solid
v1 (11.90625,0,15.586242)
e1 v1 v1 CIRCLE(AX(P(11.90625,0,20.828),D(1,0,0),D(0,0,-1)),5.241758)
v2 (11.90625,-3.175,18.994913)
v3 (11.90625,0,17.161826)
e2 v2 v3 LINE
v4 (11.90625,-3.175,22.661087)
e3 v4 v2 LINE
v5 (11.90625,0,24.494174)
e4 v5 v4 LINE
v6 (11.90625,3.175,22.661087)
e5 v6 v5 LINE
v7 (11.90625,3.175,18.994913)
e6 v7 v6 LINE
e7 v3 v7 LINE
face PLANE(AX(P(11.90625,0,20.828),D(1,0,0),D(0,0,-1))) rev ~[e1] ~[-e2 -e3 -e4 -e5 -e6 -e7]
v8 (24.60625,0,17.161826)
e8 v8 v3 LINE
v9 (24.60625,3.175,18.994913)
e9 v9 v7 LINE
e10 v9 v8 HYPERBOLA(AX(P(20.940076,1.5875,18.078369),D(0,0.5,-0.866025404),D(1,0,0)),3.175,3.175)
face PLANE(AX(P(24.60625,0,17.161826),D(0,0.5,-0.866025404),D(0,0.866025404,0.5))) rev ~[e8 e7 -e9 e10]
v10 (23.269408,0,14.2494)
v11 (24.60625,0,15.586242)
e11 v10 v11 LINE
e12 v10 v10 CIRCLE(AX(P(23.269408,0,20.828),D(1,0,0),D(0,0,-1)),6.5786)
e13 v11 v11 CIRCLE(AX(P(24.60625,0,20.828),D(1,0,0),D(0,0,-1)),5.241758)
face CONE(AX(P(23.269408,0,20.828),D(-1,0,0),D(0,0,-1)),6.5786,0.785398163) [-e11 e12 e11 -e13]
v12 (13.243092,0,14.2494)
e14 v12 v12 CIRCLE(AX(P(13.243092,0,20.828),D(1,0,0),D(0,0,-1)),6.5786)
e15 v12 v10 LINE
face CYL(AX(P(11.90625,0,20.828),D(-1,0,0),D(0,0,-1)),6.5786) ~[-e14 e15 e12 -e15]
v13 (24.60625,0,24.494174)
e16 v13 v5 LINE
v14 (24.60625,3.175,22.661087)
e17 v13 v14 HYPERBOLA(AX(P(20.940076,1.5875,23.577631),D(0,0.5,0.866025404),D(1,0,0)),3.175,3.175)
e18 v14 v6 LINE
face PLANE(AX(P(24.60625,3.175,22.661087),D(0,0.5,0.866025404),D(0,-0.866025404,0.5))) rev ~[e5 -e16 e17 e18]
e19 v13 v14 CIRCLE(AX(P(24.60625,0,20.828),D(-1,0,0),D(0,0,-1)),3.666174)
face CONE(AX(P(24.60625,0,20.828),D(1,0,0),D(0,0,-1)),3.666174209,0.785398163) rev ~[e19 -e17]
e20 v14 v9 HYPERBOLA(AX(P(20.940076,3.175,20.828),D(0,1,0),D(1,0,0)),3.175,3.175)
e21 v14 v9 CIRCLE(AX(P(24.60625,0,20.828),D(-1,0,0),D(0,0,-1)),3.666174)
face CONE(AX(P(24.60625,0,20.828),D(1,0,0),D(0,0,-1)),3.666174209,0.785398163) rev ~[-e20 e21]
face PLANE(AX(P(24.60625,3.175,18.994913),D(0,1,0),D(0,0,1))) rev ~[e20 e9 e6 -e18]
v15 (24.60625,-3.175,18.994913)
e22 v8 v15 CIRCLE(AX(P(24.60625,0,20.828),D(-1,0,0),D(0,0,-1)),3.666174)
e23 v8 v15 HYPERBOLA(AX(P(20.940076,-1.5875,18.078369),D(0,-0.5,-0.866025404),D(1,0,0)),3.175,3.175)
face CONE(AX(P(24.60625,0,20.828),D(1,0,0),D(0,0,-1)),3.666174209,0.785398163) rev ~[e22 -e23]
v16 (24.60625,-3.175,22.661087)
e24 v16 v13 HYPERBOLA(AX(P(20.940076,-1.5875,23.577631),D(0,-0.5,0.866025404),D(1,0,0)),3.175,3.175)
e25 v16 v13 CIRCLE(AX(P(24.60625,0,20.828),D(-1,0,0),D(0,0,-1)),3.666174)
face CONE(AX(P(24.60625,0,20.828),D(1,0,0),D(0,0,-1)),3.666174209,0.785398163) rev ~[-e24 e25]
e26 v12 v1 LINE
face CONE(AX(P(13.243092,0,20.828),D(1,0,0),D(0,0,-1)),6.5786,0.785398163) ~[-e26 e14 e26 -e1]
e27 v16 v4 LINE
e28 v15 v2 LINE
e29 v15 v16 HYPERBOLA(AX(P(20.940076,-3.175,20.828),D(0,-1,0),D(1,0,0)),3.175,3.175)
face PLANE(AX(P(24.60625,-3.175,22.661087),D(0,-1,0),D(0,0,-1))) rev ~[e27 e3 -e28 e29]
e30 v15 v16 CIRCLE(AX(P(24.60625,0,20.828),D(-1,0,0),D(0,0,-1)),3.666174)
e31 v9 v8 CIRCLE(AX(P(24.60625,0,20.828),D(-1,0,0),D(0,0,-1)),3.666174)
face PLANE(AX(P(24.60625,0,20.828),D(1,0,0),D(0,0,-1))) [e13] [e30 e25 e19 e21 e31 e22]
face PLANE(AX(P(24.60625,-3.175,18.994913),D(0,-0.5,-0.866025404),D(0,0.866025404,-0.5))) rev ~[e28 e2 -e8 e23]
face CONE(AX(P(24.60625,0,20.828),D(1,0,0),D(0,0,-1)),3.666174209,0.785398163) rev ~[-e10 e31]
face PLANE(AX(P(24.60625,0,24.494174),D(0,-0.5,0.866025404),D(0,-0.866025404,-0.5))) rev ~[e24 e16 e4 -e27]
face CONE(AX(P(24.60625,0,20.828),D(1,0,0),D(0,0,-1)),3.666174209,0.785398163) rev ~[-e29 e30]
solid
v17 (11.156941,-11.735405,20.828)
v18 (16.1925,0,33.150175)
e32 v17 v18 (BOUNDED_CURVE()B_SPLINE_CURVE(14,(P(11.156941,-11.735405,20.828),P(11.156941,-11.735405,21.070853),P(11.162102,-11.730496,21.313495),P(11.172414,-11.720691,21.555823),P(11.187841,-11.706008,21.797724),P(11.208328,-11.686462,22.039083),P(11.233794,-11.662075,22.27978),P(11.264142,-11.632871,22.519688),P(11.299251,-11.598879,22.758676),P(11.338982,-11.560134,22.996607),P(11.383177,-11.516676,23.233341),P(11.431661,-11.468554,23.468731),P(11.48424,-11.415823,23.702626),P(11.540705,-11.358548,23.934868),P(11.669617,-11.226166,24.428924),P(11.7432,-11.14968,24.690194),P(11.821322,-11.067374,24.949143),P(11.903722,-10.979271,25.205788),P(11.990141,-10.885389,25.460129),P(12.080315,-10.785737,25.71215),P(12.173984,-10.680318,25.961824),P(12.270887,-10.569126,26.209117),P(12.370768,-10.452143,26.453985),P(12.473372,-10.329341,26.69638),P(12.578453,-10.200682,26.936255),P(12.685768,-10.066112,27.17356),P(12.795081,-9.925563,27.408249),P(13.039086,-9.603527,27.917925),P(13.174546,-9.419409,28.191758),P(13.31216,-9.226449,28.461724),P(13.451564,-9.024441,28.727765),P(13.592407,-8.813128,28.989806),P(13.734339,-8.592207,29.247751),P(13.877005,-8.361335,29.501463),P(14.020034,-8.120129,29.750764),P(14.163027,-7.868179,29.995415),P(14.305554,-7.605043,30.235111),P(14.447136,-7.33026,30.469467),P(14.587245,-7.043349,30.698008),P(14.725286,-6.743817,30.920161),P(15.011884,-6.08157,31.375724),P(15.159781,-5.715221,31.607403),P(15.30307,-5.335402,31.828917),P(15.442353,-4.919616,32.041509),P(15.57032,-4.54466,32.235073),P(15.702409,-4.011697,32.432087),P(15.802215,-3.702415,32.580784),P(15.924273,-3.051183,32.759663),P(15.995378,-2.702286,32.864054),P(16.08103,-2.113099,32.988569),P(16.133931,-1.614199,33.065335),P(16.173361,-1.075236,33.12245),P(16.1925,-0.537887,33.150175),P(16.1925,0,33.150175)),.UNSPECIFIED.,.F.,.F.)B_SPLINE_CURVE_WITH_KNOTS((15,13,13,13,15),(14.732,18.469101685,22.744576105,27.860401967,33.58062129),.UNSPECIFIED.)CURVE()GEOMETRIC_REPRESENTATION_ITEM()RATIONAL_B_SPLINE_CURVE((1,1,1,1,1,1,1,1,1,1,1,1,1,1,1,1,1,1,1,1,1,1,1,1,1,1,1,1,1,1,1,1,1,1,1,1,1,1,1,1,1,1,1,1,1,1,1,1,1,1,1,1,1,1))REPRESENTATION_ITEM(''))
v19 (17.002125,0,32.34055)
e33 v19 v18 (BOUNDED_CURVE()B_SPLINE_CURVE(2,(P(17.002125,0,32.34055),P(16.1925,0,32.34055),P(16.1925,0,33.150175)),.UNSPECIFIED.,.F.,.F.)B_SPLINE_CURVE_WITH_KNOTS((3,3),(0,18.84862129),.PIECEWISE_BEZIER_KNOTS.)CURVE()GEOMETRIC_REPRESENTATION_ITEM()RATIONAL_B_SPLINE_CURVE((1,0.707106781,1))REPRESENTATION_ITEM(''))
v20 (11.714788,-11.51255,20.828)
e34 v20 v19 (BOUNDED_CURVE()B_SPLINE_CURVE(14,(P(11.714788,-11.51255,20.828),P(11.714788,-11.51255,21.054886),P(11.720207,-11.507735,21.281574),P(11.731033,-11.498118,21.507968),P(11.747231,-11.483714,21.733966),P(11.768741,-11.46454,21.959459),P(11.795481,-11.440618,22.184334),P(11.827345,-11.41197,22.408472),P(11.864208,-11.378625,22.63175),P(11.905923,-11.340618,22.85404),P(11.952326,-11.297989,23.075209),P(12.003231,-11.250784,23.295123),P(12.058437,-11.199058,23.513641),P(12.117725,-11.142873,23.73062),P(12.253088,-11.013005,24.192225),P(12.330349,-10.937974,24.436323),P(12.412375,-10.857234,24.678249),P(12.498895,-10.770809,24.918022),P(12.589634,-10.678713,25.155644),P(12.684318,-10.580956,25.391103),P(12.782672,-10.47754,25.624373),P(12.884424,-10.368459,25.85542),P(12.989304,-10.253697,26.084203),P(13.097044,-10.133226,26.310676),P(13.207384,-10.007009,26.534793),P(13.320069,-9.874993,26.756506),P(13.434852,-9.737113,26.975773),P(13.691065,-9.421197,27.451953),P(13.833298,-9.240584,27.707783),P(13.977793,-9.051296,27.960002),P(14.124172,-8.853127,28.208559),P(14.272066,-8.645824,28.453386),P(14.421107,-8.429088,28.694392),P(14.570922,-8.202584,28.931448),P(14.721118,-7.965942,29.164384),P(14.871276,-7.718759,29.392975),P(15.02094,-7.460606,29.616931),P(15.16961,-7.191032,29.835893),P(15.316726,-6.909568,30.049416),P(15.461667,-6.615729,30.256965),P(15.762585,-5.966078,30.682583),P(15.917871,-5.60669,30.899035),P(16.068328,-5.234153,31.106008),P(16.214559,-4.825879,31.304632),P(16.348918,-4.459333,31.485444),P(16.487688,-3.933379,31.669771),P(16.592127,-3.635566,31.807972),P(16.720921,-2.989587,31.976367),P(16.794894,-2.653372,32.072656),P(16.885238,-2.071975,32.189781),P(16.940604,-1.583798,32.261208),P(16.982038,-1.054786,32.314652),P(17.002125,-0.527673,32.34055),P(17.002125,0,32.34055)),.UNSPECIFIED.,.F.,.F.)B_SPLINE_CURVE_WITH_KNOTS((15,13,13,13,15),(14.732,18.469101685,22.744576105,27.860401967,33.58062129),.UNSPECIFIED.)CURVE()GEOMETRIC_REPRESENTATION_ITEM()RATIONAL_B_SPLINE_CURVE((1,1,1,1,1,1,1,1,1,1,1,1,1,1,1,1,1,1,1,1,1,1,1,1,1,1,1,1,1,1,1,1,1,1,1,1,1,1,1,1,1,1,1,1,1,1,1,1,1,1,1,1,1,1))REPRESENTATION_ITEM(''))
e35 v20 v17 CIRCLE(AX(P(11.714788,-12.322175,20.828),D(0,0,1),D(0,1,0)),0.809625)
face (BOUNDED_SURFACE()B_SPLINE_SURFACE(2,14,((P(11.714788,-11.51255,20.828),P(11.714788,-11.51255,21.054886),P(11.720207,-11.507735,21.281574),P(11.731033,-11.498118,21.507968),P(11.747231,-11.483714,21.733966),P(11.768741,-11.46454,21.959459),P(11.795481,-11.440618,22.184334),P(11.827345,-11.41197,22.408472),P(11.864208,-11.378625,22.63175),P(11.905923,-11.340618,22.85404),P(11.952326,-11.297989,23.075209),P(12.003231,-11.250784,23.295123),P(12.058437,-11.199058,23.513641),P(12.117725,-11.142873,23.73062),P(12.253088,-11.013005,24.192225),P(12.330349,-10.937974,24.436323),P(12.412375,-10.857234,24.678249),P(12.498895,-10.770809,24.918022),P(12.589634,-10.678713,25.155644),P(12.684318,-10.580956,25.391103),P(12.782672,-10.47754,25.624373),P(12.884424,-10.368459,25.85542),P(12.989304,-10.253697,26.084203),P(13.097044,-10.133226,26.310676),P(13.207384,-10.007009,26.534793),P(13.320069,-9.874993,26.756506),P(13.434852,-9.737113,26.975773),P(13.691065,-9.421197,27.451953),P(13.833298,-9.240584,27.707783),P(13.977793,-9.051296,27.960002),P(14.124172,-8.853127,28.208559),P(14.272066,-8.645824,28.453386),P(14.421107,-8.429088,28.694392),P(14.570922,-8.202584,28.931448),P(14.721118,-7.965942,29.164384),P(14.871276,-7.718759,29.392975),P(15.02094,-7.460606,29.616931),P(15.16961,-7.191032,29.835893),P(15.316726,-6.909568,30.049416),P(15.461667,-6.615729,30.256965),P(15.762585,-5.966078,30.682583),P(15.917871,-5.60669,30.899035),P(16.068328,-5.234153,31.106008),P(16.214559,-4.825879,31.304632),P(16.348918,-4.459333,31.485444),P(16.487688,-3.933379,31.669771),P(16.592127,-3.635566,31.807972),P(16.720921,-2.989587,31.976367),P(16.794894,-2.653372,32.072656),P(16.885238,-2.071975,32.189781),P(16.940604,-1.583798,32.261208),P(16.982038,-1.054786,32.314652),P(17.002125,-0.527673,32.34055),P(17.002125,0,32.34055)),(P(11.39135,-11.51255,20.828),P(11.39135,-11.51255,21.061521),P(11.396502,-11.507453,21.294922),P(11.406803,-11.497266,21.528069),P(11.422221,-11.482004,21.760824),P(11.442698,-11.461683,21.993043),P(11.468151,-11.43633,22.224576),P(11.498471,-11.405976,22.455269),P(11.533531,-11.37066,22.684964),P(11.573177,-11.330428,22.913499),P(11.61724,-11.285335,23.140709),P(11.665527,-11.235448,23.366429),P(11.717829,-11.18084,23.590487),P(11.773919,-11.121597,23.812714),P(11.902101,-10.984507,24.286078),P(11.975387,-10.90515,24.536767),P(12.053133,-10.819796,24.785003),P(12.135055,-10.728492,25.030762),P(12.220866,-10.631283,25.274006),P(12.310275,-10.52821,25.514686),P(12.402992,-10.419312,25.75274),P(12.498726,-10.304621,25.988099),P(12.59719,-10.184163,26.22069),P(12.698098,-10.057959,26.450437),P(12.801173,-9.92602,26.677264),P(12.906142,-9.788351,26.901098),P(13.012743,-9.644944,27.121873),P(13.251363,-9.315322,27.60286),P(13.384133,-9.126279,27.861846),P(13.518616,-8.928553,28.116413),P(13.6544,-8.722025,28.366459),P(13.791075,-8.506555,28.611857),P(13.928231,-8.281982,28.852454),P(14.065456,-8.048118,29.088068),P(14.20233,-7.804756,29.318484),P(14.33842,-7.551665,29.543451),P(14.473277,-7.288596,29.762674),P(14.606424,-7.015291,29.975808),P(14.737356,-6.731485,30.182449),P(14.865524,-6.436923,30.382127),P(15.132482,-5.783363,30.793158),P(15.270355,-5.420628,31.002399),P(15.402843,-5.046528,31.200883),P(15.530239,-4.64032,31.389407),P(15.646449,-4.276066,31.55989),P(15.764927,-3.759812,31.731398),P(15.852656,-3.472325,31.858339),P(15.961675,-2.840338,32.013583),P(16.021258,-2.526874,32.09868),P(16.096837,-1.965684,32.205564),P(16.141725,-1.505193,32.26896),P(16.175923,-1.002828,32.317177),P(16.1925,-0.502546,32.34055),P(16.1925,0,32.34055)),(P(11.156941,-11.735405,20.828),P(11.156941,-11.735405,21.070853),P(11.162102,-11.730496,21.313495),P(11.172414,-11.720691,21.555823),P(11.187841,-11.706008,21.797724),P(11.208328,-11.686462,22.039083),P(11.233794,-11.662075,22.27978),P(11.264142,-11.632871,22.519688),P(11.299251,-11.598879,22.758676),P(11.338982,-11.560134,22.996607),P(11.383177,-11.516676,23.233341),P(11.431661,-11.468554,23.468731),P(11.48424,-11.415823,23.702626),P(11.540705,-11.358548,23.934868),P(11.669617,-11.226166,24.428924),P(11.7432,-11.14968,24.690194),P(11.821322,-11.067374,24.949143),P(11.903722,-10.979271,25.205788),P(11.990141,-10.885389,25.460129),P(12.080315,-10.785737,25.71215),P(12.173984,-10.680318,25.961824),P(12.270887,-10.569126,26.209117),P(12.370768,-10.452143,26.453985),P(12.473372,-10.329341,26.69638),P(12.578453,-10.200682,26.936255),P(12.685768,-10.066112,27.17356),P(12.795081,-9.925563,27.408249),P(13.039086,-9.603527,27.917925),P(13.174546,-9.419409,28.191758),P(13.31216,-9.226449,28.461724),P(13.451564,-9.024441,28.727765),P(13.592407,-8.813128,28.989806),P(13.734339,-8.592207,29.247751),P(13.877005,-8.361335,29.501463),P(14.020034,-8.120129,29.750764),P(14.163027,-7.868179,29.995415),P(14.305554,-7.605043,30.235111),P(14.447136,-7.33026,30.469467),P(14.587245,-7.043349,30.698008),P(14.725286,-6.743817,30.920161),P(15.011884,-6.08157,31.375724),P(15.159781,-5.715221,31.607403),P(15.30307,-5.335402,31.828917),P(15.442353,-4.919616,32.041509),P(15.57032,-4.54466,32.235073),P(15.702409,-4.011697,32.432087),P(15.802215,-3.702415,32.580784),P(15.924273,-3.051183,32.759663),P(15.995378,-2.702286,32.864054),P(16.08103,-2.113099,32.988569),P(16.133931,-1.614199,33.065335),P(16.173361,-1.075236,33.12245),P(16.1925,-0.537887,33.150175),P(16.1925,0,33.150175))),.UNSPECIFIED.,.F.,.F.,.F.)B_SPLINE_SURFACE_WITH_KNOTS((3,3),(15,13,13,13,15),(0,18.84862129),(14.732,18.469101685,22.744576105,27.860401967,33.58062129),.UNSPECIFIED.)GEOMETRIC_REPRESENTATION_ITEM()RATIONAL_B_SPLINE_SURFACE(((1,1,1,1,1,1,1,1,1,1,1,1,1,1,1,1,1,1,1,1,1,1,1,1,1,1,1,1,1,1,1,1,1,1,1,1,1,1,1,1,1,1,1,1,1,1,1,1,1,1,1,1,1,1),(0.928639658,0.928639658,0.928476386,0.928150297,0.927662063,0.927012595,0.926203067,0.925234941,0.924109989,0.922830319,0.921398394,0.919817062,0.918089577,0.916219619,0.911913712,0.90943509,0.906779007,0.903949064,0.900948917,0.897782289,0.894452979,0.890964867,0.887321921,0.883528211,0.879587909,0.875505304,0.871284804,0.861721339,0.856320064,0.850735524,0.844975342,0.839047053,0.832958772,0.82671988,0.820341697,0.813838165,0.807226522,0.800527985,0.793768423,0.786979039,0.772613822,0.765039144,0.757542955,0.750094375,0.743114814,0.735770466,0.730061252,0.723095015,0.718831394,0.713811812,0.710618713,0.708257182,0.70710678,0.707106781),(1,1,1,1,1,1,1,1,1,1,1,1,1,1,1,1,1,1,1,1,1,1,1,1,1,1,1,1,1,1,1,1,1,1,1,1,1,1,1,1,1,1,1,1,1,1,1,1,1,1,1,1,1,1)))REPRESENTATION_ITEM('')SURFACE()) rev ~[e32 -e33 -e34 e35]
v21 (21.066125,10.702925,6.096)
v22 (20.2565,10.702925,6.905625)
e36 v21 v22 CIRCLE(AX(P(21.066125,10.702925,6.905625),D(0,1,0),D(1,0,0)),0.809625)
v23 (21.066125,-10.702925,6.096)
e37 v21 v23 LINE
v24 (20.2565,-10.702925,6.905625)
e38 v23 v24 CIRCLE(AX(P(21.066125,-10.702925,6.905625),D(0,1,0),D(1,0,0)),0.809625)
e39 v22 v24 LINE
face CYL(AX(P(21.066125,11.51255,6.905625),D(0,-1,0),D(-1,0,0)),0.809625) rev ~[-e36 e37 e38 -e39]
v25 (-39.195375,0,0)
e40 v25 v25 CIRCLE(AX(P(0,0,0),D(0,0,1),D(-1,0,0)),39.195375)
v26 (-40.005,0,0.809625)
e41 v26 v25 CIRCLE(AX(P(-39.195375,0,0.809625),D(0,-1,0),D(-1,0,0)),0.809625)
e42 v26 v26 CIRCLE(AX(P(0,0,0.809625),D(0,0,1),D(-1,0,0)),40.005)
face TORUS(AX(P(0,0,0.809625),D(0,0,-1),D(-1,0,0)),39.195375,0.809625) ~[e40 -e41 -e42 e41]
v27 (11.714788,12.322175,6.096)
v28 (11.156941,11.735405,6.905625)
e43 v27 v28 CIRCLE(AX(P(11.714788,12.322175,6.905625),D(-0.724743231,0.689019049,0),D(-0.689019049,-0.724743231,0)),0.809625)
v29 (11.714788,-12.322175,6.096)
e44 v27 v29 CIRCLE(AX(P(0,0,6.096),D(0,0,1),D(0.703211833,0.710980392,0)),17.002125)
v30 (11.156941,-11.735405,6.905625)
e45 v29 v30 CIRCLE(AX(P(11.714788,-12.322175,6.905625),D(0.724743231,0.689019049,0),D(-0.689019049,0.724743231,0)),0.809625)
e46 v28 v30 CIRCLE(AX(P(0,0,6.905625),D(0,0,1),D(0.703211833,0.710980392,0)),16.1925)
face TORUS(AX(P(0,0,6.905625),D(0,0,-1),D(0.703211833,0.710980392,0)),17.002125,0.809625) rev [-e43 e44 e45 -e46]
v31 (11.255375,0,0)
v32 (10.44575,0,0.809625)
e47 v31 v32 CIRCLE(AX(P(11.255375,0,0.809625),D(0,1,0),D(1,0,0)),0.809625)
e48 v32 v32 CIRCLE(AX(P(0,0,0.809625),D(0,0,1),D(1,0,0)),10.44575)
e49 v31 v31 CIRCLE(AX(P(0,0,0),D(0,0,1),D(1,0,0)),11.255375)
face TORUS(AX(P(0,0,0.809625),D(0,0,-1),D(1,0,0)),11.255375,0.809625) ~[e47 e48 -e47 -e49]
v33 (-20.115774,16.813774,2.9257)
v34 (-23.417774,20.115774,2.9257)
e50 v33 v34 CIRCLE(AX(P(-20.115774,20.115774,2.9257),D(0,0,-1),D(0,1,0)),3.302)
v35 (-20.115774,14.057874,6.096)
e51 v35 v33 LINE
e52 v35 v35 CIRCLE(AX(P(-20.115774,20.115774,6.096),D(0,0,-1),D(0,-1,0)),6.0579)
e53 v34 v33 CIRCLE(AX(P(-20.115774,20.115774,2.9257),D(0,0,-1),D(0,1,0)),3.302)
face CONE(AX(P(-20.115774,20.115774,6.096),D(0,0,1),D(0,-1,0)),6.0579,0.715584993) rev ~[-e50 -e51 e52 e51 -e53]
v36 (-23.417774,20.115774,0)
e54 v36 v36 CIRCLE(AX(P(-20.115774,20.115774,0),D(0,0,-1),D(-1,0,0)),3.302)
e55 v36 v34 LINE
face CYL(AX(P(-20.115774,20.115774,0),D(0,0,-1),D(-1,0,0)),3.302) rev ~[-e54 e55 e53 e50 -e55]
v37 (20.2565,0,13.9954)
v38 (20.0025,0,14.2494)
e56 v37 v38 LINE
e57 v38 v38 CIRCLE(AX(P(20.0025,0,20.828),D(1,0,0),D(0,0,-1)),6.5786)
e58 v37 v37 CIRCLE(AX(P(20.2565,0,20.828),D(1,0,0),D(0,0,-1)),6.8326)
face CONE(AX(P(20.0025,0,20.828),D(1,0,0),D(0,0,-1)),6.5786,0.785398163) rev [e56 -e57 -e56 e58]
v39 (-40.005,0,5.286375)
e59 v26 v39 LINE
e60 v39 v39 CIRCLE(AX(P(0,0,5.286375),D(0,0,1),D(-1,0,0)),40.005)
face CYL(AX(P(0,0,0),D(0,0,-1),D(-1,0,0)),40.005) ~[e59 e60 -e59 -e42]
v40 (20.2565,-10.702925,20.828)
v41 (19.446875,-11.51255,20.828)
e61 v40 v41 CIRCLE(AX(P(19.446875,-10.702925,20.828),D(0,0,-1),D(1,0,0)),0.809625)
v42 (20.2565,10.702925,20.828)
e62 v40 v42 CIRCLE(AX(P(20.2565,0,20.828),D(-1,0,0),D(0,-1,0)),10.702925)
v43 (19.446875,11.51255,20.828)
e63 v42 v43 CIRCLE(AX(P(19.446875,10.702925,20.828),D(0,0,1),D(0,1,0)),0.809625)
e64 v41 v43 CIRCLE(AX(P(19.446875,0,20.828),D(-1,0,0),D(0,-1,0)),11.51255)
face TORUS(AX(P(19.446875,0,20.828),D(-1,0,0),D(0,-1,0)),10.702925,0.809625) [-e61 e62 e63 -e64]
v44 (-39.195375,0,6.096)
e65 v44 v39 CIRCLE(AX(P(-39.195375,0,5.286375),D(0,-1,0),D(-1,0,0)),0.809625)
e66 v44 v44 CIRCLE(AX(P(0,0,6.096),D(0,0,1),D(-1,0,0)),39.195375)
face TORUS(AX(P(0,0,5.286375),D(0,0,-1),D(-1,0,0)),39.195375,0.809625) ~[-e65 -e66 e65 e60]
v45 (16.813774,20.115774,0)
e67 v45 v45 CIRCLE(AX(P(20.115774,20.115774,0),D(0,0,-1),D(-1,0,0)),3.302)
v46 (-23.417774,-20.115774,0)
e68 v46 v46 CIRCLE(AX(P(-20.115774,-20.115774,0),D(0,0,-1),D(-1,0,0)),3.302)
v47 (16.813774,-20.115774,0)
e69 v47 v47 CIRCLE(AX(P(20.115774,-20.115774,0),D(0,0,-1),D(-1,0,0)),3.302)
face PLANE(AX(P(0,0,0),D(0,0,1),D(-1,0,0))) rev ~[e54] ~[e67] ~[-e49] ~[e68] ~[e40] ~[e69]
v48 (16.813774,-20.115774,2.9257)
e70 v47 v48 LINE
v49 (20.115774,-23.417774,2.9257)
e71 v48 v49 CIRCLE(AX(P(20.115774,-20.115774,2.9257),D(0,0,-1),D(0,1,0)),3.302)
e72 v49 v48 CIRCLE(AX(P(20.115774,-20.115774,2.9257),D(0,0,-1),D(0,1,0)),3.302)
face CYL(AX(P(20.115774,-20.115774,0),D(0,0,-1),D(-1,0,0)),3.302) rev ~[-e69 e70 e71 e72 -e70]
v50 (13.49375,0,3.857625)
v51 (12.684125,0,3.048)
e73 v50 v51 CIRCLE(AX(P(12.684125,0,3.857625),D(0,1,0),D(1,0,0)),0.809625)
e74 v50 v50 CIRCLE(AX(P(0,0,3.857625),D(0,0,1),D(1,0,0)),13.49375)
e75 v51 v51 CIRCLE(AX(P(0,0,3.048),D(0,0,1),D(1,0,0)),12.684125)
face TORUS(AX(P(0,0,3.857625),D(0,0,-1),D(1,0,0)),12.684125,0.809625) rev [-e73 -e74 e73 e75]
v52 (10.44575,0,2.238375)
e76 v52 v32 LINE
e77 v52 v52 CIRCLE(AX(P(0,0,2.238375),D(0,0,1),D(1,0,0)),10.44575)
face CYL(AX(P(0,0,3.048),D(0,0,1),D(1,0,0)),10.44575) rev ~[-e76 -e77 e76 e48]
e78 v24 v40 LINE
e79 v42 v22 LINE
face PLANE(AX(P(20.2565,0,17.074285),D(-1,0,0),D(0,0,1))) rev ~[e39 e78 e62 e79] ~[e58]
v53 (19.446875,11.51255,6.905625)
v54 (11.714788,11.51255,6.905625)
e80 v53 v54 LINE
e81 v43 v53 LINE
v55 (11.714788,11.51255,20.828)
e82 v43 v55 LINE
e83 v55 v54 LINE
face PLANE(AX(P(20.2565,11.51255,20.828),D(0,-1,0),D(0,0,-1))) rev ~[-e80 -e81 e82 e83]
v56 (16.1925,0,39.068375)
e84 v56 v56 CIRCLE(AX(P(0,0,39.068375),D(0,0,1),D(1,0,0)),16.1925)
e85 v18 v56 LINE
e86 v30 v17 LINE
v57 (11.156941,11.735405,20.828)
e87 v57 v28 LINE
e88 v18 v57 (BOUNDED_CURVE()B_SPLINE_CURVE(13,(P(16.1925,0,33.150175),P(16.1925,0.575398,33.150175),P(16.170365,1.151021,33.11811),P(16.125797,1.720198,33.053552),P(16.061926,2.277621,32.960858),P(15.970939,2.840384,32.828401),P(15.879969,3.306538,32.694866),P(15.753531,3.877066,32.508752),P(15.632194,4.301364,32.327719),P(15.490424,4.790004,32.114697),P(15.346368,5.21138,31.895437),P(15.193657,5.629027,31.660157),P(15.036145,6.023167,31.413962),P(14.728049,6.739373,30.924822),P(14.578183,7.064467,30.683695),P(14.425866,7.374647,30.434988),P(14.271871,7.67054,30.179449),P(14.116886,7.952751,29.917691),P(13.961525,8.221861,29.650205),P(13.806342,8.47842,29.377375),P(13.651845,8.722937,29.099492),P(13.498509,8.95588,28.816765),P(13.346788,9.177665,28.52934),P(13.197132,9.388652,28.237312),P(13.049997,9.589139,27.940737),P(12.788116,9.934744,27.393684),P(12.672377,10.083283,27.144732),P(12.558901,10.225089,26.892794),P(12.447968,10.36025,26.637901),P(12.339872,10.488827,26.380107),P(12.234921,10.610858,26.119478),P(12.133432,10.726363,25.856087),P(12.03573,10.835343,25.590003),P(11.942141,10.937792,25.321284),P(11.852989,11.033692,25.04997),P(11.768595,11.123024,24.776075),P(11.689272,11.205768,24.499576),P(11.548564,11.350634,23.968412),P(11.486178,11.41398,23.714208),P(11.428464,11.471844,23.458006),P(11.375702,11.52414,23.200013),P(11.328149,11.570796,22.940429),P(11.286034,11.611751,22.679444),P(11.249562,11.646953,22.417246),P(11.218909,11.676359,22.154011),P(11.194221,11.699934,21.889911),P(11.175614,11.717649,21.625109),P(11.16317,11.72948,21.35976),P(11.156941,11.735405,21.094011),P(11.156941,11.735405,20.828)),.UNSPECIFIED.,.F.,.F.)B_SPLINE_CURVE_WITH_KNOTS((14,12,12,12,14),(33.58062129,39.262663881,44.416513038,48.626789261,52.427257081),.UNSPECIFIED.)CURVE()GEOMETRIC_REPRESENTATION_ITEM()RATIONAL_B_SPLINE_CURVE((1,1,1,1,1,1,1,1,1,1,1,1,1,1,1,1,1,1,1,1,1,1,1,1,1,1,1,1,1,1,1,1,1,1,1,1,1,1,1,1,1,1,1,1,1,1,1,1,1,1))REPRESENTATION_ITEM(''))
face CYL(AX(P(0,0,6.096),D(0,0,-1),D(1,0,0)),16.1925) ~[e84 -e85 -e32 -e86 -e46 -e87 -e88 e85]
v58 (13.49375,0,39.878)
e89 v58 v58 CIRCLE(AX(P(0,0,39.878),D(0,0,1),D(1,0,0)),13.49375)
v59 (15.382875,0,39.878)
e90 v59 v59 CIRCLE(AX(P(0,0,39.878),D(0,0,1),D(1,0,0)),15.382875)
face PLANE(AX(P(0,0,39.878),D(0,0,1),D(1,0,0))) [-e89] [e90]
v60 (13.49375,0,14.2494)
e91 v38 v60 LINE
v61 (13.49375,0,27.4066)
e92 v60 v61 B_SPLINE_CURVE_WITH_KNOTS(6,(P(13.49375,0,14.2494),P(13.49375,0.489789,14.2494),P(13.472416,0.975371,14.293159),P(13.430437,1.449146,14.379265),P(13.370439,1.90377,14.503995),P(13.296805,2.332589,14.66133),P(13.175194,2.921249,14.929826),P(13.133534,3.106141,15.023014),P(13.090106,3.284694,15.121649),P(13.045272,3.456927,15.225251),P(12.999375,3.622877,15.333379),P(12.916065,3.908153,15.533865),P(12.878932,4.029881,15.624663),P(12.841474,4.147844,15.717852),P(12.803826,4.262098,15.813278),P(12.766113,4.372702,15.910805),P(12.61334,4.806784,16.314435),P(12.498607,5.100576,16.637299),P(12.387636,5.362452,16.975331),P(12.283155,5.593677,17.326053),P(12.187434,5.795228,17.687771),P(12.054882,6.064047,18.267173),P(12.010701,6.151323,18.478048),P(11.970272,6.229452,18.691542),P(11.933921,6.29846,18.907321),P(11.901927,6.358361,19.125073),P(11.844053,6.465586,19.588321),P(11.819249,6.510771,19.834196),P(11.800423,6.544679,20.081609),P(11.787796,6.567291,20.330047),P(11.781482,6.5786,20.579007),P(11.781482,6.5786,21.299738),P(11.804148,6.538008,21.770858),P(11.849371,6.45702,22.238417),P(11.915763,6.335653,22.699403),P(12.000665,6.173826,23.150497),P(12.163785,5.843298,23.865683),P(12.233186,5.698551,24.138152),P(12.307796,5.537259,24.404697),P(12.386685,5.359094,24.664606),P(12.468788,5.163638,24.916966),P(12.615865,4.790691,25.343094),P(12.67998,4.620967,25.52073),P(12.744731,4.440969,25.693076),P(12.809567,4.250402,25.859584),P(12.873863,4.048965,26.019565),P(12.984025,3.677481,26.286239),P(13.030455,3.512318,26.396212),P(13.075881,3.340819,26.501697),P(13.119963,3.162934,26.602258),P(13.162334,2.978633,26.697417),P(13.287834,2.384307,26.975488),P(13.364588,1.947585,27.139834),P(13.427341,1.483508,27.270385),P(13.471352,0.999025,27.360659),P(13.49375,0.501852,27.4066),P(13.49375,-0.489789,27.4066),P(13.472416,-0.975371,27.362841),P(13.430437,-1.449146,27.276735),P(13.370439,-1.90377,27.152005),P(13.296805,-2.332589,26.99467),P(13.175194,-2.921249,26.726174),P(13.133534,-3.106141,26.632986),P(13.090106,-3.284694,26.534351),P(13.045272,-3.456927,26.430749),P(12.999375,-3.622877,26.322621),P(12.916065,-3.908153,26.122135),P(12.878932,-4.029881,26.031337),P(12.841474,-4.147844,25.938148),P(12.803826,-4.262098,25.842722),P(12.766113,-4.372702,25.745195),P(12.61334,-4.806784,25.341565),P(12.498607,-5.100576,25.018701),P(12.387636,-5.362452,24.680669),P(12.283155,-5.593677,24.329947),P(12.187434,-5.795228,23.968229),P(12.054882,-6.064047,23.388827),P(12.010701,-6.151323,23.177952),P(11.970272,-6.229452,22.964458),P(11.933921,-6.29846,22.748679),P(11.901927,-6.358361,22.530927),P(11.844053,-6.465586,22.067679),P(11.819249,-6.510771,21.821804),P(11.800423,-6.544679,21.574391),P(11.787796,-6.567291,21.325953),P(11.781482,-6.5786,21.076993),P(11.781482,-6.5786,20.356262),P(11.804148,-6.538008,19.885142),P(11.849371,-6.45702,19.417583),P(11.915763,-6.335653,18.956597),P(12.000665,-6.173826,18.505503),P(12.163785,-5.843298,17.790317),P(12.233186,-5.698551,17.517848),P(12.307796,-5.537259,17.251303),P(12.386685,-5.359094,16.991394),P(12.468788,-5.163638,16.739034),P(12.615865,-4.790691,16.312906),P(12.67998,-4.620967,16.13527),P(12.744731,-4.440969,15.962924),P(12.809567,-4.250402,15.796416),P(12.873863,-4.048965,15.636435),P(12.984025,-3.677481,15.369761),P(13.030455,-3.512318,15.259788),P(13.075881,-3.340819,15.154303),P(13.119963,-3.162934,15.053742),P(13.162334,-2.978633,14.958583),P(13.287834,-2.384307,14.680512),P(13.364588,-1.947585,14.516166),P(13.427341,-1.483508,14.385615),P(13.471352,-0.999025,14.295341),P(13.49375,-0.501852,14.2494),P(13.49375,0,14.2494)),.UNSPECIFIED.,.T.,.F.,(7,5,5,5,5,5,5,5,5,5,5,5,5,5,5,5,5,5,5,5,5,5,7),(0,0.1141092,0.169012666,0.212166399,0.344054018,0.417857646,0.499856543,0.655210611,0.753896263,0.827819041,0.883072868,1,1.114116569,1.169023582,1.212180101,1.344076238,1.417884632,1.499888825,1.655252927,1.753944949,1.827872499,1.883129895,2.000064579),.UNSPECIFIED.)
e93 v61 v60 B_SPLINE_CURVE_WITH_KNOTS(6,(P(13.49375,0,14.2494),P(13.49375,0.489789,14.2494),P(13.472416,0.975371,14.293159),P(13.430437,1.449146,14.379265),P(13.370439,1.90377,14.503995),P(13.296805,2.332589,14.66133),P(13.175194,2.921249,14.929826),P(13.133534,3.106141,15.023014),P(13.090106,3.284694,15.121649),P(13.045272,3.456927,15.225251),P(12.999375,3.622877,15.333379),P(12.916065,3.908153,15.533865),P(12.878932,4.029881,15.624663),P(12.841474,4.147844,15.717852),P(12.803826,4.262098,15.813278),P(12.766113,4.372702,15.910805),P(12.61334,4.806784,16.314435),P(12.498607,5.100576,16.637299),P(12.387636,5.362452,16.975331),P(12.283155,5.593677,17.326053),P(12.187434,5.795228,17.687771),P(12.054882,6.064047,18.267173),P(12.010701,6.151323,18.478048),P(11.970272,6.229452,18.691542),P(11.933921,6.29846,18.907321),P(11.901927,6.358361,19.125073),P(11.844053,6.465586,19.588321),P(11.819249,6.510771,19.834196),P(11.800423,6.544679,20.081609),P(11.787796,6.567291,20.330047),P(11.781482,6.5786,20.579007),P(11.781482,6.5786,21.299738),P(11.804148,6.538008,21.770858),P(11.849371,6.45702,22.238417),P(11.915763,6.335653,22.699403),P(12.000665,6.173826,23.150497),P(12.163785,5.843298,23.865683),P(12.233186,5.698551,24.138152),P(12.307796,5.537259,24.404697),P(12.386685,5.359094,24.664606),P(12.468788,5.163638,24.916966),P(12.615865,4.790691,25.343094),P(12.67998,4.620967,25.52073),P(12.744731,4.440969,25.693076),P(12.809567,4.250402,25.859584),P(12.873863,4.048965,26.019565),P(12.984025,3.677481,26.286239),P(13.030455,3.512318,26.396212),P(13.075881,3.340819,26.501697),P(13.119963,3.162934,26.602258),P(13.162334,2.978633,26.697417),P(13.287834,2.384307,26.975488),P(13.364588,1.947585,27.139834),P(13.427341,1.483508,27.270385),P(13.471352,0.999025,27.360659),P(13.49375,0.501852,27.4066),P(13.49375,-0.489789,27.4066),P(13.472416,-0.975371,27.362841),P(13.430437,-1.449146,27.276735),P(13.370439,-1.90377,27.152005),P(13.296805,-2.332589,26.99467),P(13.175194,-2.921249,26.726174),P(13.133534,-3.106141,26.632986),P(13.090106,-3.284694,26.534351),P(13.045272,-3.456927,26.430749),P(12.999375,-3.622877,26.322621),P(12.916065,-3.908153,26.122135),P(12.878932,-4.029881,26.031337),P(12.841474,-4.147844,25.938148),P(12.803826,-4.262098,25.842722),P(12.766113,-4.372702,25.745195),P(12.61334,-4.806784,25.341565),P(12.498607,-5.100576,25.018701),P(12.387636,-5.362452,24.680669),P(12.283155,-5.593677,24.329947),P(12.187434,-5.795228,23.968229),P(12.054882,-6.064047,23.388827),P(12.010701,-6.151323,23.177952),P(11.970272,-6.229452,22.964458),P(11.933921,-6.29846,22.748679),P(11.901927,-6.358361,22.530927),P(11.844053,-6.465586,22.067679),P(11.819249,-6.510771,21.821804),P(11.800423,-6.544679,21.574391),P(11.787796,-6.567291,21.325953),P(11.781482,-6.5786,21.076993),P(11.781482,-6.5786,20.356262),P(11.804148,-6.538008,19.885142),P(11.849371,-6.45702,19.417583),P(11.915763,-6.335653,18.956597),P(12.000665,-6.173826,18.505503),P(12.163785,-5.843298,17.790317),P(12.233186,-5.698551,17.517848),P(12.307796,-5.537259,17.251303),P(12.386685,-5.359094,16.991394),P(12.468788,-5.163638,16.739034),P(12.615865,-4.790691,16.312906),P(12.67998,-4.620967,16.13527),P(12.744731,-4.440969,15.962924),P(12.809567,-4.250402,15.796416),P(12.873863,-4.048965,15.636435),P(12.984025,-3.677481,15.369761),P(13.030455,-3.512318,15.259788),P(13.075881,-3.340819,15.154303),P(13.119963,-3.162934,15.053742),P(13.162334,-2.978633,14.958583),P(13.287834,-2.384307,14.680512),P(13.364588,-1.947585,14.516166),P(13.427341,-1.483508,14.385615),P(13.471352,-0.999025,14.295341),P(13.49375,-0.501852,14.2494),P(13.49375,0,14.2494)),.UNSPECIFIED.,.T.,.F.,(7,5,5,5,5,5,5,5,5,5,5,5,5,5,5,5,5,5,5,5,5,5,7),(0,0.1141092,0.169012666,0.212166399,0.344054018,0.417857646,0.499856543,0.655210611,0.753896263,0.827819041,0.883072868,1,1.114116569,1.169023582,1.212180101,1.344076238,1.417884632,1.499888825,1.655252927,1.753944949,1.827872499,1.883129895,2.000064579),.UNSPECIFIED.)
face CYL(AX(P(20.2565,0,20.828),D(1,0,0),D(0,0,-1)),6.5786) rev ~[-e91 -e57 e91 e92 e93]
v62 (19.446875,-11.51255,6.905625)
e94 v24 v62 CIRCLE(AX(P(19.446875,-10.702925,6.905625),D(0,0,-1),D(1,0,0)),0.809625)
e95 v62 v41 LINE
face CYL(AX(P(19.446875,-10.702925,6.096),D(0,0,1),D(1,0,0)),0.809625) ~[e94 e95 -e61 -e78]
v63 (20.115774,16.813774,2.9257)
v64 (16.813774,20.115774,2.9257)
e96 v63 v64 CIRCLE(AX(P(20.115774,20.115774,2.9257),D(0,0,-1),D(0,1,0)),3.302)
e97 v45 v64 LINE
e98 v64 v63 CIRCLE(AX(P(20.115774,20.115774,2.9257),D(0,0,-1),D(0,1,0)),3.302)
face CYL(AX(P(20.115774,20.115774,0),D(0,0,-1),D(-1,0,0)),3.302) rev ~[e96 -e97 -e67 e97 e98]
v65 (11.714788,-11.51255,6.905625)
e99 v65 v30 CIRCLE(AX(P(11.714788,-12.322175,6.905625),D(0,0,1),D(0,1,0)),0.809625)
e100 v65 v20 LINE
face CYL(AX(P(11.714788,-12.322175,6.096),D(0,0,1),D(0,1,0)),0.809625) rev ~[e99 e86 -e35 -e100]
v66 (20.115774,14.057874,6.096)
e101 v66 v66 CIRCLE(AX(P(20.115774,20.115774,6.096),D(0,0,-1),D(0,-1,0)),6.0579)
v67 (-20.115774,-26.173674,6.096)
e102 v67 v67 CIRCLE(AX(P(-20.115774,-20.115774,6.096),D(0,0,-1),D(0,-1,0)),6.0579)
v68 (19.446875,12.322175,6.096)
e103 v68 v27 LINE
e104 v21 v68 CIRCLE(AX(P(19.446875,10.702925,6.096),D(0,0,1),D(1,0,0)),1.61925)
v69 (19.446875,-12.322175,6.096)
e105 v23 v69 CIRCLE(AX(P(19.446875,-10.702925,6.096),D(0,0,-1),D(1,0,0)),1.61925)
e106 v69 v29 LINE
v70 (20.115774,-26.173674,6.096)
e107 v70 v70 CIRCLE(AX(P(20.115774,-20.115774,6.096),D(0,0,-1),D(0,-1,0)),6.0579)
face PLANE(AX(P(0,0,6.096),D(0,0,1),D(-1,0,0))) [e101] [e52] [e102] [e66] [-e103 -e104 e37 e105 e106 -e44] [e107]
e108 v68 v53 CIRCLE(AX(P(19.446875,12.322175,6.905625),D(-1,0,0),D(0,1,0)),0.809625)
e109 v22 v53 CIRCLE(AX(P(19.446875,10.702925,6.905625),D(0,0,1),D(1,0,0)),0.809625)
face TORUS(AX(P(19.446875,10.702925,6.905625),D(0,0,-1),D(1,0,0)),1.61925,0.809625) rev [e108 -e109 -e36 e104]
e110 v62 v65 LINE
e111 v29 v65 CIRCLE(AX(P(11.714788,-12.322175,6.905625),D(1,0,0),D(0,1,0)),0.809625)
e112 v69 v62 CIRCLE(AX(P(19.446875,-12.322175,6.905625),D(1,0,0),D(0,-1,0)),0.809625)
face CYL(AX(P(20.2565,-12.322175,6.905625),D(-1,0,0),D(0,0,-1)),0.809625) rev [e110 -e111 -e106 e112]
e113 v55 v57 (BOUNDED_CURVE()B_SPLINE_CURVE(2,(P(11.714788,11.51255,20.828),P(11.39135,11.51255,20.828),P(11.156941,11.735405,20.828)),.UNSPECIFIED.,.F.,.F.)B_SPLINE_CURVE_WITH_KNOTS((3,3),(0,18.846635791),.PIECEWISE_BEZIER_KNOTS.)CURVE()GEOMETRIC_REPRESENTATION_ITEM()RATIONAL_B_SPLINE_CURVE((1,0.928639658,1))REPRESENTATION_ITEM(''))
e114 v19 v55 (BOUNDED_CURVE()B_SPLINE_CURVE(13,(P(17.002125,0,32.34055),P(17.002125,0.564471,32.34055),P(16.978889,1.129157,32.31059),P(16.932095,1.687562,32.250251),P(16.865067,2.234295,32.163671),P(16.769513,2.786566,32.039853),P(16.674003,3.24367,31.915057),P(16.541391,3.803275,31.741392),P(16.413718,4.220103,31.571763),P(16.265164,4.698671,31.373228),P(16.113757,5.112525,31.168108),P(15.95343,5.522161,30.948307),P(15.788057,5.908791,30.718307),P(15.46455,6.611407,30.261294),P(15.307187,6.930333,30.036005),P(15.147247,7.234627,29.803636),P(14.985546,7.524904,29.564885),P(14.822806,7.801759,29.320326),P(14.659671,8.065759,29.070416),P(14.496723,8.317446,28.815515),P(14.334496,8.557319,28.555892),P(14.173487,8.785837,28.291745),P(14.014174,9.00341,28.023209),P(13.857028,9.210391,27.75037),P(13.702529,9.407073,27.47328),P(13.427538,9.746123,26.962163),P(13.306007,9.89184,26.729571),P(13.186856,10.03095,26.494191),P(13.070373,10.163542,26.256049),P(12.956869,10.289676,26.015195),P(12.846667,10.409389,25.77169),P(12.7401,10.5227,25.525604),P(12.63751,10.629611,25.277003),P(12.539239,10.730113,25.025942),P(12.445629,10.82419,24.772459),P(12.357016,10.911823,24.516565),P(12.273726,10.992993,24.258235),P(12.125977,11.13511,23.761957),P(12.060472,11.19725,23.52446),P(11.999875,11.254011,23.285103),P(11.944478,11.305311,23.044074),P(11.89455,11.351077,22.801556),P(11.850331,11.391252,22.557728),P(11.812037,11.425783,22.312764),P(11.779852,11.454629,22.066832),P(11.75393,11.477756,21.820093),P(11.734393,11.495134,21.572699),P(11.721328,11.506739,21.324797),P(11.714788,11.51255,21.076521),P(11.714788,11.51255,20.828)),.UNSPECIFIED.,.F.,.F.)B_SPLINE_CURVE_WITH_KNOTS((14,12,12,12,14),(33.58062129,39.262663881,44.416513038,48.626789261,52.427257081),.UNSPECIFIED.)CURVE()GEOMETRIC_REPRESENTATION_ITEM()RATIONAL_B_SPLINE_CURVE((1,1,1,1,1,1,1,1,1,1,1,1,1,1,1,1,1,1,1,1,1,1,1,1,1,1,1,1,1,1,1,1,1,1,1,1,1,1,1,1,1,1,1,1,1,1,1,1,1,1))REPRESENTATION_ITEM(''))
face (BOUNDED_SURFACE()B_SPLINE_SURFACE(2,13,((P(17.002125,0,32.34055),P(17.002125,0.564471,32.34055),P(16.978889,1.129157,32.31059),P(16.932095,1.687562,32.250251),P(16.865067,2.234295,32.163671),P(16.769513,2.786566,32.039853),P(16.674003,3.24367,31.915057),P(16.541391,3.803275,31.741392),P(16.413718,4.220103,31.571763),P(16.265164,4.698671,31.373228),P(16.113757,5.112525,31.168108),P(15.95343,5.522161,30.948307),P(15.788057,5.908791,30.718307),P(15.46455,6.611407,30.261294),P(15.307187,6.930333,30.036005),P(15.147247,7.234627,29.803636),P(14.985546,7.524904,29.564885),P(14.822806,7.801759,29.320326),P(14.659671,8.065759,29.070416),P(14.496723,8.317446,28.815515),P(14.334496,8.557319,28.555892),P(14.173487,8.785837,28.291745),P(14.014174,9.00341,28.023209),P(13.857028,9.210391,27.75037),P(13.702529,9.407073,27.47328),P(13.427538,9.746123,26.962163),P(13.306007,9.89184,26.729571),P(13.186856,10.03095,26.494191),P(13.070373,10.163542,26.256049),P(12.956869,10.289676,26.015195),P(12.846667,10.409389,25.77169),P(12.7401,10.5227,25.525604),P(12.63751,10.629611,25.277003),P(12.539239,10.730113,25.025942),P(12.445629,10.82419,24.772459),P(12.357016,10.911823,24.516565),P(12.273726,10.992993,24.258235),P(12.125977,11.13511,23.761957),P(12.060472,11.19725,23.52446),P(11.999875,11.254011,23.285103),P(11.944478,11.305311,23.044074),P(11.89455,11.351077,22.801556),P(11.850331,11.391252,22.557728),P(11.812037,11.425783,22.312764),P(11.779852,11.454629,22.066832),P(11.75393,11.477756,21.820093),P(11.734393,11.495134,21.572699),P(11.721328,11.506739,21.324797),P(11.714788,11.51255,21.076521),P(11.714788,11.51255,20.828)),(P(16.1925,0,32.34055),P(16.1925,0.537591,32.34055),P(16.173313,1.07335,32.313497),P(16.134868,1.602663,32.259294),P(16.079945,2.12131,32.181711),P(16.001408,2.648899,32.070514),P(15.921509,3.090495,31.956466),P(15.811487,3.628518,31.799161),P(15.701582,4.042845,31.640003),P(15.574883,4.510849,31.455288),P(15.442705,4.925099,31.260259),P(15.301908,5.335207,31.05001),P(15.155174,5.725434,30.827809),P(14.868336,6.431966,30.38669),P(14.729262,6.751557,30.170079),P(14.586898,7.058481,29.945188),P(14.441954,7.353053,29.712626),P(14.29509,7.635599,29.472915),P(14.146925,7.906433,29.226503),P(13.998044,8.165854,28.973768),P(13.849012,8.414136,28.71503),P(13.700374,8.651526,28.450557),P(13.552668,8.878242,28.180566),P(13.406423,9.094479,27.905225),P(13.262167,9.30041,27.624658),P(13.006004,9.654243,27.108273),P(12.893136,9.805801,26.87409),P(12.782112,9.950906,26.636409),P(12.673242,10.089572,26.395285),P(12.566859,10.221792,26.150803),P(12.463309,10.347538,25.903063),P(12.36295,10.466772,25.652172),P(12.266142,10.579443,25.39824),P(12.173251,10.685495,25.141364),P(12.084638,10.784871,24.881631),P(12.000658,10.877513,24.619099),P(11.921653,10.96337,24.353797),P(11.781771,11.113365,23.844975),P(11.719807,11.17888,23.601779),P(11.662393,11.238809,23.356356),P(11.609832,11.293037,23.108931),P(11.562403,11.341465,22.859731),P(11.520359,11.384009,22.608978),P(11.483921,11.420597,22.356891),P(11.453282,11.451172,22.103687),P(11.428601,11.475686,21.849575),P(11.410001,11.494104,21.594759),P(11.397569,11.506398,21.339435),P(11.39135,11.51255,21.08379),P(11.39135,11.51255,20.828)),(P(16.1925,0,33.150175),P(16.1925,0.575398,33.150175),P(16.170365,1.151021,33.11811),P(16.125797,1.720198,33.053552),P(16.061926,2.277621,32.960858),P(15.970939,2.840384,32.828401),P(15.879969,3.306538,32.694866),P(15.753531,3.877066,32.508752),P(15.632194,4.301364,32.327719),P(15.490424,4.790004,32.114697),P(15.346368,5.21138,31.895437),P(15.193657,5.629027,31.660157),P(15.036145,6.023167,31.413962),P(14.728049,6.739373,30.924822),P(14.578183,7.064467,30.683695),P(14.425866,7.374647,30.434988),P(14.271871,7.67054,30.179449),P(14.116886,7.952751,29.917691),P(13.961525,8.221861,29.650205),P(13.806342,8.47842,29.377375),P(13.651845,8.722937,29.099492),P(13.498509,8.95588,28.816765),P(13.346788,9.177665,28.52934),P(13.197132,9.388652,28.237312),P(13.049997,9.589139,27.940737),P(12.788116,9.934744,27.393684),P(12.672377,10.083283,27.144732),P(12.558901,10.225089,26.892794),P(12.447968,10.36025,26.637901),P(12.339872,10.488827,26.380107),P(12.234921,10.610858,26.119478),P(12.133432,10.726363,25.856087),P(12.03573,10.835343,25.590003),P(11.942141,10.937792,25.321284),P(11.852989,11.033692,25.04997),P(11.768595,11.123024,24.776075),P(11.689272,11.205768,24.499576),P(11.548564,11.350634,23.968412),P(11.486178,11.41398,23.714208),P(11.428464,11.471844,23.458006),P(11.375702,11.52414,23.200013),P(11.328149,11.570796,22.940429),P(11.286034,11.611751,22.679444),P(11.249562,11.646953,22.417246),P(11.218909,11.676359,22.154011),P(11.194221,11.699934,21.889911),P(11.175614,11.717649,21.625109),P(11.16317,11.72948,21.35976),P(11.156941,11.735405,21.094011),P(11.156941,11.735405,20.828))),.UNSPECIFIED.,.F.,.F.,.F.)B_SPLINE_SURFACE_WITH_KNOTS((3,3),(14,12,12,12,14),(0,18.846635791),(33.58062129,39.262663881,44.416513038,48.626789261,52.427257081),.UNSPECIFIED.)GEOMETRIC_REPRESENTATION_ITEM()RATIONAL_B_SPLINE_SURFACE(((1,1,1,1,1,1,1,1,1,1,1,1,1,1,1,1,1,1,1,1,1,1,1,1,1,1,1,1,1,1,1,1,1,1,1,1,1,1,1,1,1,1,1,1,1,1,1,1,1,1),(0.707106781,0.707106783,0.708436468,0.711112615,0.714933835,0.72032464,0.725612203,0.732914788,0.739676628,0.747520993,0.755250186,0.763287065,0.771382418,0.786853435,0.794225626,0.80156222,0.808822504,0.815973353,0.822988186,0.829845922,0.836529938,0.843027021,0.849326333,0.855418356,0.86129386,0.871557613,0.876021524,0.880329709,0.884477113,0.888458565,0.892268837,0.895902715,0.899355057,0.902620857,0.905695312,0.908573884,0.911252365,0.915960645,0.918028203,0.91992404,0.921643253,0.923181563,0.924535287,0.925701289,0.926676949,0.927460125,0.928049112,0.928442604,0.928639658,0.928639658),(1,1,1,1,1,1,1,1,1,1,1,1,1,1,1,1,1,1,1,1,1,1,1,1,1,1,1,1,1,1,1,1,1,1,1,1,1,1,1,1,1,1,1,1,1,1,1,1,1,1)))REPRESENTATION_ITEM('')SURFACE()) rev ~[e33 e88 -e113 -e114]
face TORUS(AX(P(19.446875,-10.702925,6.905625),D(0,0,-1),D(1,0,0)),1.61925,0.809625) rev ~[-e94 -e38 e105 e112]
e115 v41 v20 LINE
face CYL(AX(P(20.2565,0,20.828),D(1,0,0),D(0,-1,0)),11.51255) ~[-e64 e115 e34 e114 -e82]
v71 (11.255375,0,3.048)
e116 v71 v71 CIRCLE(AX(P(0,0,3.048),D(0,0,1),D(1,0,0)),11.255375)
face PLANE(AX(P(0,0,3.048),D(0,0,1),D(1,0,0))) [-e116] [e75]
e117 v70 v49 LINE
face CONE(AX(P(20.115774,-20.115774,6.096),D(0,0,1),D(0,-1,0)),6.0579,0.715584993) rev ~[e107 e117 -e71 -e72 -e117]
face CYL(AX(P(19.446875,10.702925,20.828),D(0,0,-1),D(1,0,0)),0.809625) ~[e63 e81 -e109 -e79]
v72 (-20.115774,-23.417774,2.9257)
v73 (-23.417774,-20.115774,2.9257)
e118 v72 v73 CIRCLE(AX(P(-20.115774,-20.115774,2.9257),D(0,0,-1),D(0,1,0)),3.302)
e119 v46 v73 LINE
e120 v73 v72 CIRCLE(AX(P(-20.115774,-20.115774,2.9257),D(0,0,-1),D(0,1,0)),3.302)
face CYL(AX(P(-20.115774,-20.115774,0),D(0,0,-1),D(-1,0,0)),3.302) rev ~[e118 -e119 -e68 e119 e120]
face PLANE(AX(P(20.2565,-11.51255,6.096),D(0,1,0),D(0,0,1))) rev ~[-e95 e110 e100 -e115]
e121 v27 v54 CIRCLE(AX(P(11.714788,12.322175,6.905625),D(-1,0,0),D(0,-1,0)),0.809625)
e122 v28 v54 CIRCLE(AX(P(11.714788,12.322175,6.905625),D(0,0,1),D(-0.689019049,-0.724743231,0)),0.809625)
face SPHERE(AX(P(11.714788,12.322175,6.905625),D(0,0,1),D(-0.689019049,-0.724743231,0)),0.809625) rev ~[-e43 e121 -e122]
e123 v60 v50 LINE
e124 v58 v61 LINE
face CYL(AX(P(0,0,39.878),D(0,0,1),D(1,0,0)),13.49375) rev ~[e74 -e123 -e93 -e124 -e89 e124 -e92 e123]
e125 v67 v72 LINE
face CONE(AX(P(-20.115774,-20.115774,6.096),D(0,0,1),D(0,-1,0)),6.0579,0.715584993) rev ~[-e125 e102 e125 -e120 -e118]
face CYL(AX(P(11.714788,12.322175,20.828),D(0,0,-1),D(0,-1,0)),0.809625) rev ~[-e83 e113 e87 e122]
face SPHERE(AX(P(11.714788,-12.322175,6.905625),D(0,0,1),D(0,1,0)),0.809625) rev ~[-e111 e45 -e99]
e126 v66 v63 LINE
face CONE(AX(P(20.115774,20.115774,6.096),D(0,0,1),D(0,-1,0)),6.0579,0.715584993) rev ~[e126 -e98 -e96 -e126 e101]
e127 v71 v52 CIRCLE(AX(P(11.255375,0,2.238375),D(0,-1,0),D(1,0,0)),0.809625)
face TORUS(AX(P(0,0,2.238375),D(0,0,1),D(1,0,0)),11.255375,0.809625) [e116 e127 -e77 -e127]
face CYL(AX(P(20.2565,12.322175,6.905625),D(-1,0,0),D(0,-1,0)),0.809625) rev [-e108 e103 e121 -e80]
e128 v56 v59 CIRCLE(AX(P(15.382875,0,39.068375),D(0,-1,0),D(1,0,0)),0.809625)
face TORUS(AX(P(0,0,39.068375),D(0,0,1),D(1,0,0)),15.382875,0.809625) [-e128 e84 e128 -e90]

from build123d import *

# Parameters (mm, degrees)
SKETCH2_R                = 40.005
BOSS_EXTRUDE1_DEPTH      = 6.096
SKETCH3_R                = 16.1925
BOSS_EXTRUDE2_DEPTH      = 33.782
SKETCH4_R                = 13.49375
CUT_EXTRUDE1_DEPTH       = 36.83
SKETCH5_R                = 10.44575
CUT_EXTRUDE2_DEPTH       = 3.048
BOSS_EXTRUDE3_REACH      = 84.596
BOSS_EXTRUDE3_END_RADIUS = 16.1925
CUT_EXTRUDE3_REACH       = 84.596
CUT_EXTRUDE3_END_RADIUS  = 13.49375
SKETCH7_R                = 6.5786
CHAMFER1_SIZE            = 0.254
BOSS_EXTRUDE4_START      = -1.5875
SKETCH8_R                = 6.5786
BOSS_EXTRUDE4_DEPTH      = 12.7
CHAMFER2_SIZE            = 1.336842105
CUT_EXTRUDE4_DEPTH       = 12.7
SKETCH11_R               = 3.302
CUT_EXTRUDE6_DEPTH       = 6.096
FILLET1_R                = 0.809625


with BuildPart() as part:
    # Sketch2 → Boss-Extrude1 (new body)
    with BuildSketch(Plane.XY):
        with Locations(Location((0, 0, 0), (0, 0, 180))):
            Circle(SKETCH2_R)
    extrude(amount=BOSS_EXTRUDE1_DEPTH)

    # Sketch3 → Boss-Extrude2 (add)
    with BuildSketch(Plane.XY.offset(6.096)):
        Circle(SKETCH3_R)
    extrude(amount=BOSS_EXTRUDE2_DEPTH)

    # Sketch4 → Cut-Extrude1 (cut)
    with BuildSketch(Plane.XY.offset(39.878)):
        Circle(SKETCH4_R)
    extrude(amount=-CUT_EXTRUDE1_DEPTH, mode=Mode.SUBTRACT)

    # Sketch5 → Cut-Extrude2 (cut)
    with BuildSketch(Plane.XY.offset(3.048)):
        Circle(SKETCH5_R)
    extrude(amount=-CUT_EXTRUDE2_DEPTH, mode=Mode.SUBTRACT)

    # Boss-Extrude3: up to this cylinder (the profile starts outside it)
    boss_extrude3_end = Plane(origin=(0, 0, 18.12183), z_dir=(0, 0, -1)) * Cylinder(BOSS_EXTRUDE3_END_RADIUS, 202.577, mode=Mode.PRIVATE)
    # Sketch6 → Boss-Extrude3 (add, up to the surface)
    with BuildSketch(Plane(origin=(20.2565, 0, 0), x_dir=(0, 0, -1), z_dir=(1, 0, 0)), mode=Mode.PRIVATE) as boss_extrude3_sk1:
        with BuildLine():
            Line((-20.828, 11.51255), (-6.096, 11.51255))
            Line((-6.096, 11.51255), (-6.096, -11.51255))
            Line((-6.096, -11.51255), (-20.828, -11.51255))
            ThreePointArc((-20.828, -11.51255), (-32.34055, 0), (-20.828, 11.51255))
        make_face()
    boss_extrude3_tool1 = extrude(boss_extrude3_sk1.sketch, amount=-BOSS_EXTRUDE3_REACH, mode=Mode.PRIVATE) - boss_extrude3_end
    add(boss_extrude3_tool1.solids().sort_by_distance((20.2565, 0, 18.12183))[0])

    # Cut-Extrude3: up to this cylinder (the profile starts outside it)
    cut_extrude3_end = Plane(origin=(0, 0, 20.828), z_dir=(0, 0, 1)) * Cylinder(CUT_EXTRUDE3_END_RADIUS, 197.1795, mode=Mode.PRIVATE)
    # Sketch7 → Cut-Extrude3 (cut, up to the surface)
    with BuildSketch(Plane(origin=(20.2565, 0, 0), x_dir=(0, 0, -1), z_dir=(1, 0, 0)), mode=Mode.PRIVATE) as cut_extrude3_sk1:
        with Locations((-20.828, 0)):
            Circle(SKETCH7_R)
    cut_extrude3_tool1 = extrude(cut_extrude3_sk1.sketch, amount=-CUT_EXTRUDE3_REACH, mode=Mode.PRIVATE) - cut_extrude3_end
    add(cut_extrude3_tool1.solids().sort_by_distance((20.2565, 0, 20.828))[0], mode=Mode.SUBTRACT)

    # Chamfer1
    chamfer1_edges = [part.edges().sort_by_distance(p)[0] for p in [
        (20.2565, 0, 27.4066),
    ]]
    chamfer(chamfer1_edges, length=CHAMFER1_SIZE)

    # Sketch11 → Cut-Extrude6 (cut)
    with BuildSketch(Plane(origin=(0, 0, 0), x_dir=(-1, 0, 0), z_dir=(0, 0, -1))):
        with Locations((20.115773711, 20.115773711)):
            Circle(SKETCH11_R)
        with Locations((-20.115773711, 20.115773711)):
            Circle(SKETCH11_R)
        with Locations((20.115773711, -20.115773711)):
            Circle(SKETCH11_R)
        with Locations((-20.115773711, -20.115773711)):
            Circle(SKETCH11_R)
    extrude(amount=-CUT_EXTRUDE6_DEPTH, mode=Mode.SUBTRACT)

    # Cut-Extrude7 cone 1 section (through the dimple's axis) → Cut-Extrude7 (revolve, cut)
    with BuildSketch(Plane(origin=(-20.115773711, 20.115773711, 6.096), x_dir=(0, -1, 0), z_dir=(1, 0, 0))):
        Polygon((0, 0), (6.0579, 0), (0, 6.968816774), align=None)
    revolve(axis=Axis((-20.115773711, 20.115773711, 6.096), (0, 0, -1)), mode=Mode.SUBTRACT)

    # Cut-Extrude7 cone 2 section (through the dimple's axis) → Cut-Extrude7 cone 2 (revolve, cut)
    with BuildSketch(Plane(origin=(20.115773711, 20.115773711, 6.096), x_dir=(0, -1, 0), z_dir=(1, 0, 0))):
        Polygon((0, 0), (6.0579, 0), (0, 6.968816774), align=None)
    revolve(axis=Axis((20.115773711, 20.115773711, 6.096), (0, 0, -1)), mode=Mode.SUBTRACT)

    # Cut-Extrude7 cone 3 section (through the dimple's axis) → Cut-Extrude7 cone 3 (revolve, cut)
    with BuildSketch(Plane(origin=(20.115773711, -20.115773711, 6.096), x_dir=(0, -1, 0), z_dir=(1, 0, 0))):
        Polygon((0, 0), (6.0579, 0), (0, 6.968816774), align=None)
    revolve(axis=Axis((20.115773711, -20.115773711, 6.096), (0, 0, -1)), mode=Mode.SUBTRACT)

    # Cut-Extrude7 cone 4 section (through the dimple's axis) → Cut-Extrude7 cone 4 (revolve, cut)
    with BuildSketch(Plane(origin=(-20.115773711, -20.115773711, 6.096), x_dir=(0, -1, 0), z_dir=(1, 0, 0))):
        Polygon((0, 0), (6.0579, 0), (0, 6.968816774), align=None)
    revolve(axis=Axis((-20.115773711, -20.115773711, 6.096), (0, 0, -1)), mode=Mode.SUBTRACT)

    # Fillet1
    fillet1_edges = [part.edges().sort_by_distance(p)[0] for p in [
        (-13.49375, 0, 3.048),
        (-10.44575, 0, 0),
        (-10.44575, 0, 3.048),
        (40.005, 0, 0),
        (15.821628802, 11.51255, 6.096),
        (11.386757605, 11.51255, 13.462),
        (11.386757605, -11.51255, 13.462),
        (15.821628802, -11.51255, 6.096),
        (13.976547823, 8.176378596, 28.932667835),
        (20.2565, 0, 32.34055),
        (20.2565, -11.51255, 13.462),
        (20.2565, 0, 6.096),
        (20.2565, 11.51255, 13.462),
        (40.005, 0, 6.096),
        (-16.1925, 0, 6.096),
        (-16.1925, 0, 39.878),
    ]]
    fillet(fillet1_edges, radius=FILLET1_R)


with BuildPart() as body_2:
    # Sketch8 → Boss-Extrude4 (new body)
    with BuildSketch(Plane(origin=(13.49375, 0, 0), x_dir=(0, 0, -1), z_dir=(1, 0, 0)).offset(BOSS_EXTRUDE4_START)):
        with Locations((-20.828, 0)):
            Circle(SKETCH8_R)
    extrude(amount=BOSS_EXTRUDE4_DEPTH)

    # Chamfer2
    chamfer2_edges = [body_2.edges().sort_by_distance(p)[0] for p in [
        (11.90625, 0, 27.4066),
        (24.60625, 0, 27.4066),
    ]]
    chamfer(chamfer2_edges, length=CHAMFER2_SIZE)

    # Sketch9 → Cut-Extrude4 (cut)
    with BuildSketch(Plane(origin=(24.60625, 0, 0), x_dir=(0, 0, -1), z_dir=(1, 0, 0))):
        Polygon((-17.161825791, 0), (-18.994912895, 3.175), (-22.661087105, 3.175), (-24.494174209, 0), (-22.661087105, -3.175), (-18.994912895, -3.175), align=None)
    extrude(amount=-CUT_EXTRUDE4_DEPTH, mode=Mode.SUBTRACT)

    # Cut-Extrude5 cone 1 section (through the dimple's axis) → Cut-Extrude5 (revolve, cut)
    with BuildSketch(Plane(origin=(24.60625, 0, 20.828), x_dir=(0, 0, -1), z_dir=(0, 1, 0))):
        Polygon((0, 0), (3.666174209, 0), (0, 3.666174209), align=None)
    revolve(axis=Axis((24.60625, 0, 20.828), (-1, 0, 0)), mode=Mode.SUBTRACT)


solid = Compound([part.part, body_2.part])
